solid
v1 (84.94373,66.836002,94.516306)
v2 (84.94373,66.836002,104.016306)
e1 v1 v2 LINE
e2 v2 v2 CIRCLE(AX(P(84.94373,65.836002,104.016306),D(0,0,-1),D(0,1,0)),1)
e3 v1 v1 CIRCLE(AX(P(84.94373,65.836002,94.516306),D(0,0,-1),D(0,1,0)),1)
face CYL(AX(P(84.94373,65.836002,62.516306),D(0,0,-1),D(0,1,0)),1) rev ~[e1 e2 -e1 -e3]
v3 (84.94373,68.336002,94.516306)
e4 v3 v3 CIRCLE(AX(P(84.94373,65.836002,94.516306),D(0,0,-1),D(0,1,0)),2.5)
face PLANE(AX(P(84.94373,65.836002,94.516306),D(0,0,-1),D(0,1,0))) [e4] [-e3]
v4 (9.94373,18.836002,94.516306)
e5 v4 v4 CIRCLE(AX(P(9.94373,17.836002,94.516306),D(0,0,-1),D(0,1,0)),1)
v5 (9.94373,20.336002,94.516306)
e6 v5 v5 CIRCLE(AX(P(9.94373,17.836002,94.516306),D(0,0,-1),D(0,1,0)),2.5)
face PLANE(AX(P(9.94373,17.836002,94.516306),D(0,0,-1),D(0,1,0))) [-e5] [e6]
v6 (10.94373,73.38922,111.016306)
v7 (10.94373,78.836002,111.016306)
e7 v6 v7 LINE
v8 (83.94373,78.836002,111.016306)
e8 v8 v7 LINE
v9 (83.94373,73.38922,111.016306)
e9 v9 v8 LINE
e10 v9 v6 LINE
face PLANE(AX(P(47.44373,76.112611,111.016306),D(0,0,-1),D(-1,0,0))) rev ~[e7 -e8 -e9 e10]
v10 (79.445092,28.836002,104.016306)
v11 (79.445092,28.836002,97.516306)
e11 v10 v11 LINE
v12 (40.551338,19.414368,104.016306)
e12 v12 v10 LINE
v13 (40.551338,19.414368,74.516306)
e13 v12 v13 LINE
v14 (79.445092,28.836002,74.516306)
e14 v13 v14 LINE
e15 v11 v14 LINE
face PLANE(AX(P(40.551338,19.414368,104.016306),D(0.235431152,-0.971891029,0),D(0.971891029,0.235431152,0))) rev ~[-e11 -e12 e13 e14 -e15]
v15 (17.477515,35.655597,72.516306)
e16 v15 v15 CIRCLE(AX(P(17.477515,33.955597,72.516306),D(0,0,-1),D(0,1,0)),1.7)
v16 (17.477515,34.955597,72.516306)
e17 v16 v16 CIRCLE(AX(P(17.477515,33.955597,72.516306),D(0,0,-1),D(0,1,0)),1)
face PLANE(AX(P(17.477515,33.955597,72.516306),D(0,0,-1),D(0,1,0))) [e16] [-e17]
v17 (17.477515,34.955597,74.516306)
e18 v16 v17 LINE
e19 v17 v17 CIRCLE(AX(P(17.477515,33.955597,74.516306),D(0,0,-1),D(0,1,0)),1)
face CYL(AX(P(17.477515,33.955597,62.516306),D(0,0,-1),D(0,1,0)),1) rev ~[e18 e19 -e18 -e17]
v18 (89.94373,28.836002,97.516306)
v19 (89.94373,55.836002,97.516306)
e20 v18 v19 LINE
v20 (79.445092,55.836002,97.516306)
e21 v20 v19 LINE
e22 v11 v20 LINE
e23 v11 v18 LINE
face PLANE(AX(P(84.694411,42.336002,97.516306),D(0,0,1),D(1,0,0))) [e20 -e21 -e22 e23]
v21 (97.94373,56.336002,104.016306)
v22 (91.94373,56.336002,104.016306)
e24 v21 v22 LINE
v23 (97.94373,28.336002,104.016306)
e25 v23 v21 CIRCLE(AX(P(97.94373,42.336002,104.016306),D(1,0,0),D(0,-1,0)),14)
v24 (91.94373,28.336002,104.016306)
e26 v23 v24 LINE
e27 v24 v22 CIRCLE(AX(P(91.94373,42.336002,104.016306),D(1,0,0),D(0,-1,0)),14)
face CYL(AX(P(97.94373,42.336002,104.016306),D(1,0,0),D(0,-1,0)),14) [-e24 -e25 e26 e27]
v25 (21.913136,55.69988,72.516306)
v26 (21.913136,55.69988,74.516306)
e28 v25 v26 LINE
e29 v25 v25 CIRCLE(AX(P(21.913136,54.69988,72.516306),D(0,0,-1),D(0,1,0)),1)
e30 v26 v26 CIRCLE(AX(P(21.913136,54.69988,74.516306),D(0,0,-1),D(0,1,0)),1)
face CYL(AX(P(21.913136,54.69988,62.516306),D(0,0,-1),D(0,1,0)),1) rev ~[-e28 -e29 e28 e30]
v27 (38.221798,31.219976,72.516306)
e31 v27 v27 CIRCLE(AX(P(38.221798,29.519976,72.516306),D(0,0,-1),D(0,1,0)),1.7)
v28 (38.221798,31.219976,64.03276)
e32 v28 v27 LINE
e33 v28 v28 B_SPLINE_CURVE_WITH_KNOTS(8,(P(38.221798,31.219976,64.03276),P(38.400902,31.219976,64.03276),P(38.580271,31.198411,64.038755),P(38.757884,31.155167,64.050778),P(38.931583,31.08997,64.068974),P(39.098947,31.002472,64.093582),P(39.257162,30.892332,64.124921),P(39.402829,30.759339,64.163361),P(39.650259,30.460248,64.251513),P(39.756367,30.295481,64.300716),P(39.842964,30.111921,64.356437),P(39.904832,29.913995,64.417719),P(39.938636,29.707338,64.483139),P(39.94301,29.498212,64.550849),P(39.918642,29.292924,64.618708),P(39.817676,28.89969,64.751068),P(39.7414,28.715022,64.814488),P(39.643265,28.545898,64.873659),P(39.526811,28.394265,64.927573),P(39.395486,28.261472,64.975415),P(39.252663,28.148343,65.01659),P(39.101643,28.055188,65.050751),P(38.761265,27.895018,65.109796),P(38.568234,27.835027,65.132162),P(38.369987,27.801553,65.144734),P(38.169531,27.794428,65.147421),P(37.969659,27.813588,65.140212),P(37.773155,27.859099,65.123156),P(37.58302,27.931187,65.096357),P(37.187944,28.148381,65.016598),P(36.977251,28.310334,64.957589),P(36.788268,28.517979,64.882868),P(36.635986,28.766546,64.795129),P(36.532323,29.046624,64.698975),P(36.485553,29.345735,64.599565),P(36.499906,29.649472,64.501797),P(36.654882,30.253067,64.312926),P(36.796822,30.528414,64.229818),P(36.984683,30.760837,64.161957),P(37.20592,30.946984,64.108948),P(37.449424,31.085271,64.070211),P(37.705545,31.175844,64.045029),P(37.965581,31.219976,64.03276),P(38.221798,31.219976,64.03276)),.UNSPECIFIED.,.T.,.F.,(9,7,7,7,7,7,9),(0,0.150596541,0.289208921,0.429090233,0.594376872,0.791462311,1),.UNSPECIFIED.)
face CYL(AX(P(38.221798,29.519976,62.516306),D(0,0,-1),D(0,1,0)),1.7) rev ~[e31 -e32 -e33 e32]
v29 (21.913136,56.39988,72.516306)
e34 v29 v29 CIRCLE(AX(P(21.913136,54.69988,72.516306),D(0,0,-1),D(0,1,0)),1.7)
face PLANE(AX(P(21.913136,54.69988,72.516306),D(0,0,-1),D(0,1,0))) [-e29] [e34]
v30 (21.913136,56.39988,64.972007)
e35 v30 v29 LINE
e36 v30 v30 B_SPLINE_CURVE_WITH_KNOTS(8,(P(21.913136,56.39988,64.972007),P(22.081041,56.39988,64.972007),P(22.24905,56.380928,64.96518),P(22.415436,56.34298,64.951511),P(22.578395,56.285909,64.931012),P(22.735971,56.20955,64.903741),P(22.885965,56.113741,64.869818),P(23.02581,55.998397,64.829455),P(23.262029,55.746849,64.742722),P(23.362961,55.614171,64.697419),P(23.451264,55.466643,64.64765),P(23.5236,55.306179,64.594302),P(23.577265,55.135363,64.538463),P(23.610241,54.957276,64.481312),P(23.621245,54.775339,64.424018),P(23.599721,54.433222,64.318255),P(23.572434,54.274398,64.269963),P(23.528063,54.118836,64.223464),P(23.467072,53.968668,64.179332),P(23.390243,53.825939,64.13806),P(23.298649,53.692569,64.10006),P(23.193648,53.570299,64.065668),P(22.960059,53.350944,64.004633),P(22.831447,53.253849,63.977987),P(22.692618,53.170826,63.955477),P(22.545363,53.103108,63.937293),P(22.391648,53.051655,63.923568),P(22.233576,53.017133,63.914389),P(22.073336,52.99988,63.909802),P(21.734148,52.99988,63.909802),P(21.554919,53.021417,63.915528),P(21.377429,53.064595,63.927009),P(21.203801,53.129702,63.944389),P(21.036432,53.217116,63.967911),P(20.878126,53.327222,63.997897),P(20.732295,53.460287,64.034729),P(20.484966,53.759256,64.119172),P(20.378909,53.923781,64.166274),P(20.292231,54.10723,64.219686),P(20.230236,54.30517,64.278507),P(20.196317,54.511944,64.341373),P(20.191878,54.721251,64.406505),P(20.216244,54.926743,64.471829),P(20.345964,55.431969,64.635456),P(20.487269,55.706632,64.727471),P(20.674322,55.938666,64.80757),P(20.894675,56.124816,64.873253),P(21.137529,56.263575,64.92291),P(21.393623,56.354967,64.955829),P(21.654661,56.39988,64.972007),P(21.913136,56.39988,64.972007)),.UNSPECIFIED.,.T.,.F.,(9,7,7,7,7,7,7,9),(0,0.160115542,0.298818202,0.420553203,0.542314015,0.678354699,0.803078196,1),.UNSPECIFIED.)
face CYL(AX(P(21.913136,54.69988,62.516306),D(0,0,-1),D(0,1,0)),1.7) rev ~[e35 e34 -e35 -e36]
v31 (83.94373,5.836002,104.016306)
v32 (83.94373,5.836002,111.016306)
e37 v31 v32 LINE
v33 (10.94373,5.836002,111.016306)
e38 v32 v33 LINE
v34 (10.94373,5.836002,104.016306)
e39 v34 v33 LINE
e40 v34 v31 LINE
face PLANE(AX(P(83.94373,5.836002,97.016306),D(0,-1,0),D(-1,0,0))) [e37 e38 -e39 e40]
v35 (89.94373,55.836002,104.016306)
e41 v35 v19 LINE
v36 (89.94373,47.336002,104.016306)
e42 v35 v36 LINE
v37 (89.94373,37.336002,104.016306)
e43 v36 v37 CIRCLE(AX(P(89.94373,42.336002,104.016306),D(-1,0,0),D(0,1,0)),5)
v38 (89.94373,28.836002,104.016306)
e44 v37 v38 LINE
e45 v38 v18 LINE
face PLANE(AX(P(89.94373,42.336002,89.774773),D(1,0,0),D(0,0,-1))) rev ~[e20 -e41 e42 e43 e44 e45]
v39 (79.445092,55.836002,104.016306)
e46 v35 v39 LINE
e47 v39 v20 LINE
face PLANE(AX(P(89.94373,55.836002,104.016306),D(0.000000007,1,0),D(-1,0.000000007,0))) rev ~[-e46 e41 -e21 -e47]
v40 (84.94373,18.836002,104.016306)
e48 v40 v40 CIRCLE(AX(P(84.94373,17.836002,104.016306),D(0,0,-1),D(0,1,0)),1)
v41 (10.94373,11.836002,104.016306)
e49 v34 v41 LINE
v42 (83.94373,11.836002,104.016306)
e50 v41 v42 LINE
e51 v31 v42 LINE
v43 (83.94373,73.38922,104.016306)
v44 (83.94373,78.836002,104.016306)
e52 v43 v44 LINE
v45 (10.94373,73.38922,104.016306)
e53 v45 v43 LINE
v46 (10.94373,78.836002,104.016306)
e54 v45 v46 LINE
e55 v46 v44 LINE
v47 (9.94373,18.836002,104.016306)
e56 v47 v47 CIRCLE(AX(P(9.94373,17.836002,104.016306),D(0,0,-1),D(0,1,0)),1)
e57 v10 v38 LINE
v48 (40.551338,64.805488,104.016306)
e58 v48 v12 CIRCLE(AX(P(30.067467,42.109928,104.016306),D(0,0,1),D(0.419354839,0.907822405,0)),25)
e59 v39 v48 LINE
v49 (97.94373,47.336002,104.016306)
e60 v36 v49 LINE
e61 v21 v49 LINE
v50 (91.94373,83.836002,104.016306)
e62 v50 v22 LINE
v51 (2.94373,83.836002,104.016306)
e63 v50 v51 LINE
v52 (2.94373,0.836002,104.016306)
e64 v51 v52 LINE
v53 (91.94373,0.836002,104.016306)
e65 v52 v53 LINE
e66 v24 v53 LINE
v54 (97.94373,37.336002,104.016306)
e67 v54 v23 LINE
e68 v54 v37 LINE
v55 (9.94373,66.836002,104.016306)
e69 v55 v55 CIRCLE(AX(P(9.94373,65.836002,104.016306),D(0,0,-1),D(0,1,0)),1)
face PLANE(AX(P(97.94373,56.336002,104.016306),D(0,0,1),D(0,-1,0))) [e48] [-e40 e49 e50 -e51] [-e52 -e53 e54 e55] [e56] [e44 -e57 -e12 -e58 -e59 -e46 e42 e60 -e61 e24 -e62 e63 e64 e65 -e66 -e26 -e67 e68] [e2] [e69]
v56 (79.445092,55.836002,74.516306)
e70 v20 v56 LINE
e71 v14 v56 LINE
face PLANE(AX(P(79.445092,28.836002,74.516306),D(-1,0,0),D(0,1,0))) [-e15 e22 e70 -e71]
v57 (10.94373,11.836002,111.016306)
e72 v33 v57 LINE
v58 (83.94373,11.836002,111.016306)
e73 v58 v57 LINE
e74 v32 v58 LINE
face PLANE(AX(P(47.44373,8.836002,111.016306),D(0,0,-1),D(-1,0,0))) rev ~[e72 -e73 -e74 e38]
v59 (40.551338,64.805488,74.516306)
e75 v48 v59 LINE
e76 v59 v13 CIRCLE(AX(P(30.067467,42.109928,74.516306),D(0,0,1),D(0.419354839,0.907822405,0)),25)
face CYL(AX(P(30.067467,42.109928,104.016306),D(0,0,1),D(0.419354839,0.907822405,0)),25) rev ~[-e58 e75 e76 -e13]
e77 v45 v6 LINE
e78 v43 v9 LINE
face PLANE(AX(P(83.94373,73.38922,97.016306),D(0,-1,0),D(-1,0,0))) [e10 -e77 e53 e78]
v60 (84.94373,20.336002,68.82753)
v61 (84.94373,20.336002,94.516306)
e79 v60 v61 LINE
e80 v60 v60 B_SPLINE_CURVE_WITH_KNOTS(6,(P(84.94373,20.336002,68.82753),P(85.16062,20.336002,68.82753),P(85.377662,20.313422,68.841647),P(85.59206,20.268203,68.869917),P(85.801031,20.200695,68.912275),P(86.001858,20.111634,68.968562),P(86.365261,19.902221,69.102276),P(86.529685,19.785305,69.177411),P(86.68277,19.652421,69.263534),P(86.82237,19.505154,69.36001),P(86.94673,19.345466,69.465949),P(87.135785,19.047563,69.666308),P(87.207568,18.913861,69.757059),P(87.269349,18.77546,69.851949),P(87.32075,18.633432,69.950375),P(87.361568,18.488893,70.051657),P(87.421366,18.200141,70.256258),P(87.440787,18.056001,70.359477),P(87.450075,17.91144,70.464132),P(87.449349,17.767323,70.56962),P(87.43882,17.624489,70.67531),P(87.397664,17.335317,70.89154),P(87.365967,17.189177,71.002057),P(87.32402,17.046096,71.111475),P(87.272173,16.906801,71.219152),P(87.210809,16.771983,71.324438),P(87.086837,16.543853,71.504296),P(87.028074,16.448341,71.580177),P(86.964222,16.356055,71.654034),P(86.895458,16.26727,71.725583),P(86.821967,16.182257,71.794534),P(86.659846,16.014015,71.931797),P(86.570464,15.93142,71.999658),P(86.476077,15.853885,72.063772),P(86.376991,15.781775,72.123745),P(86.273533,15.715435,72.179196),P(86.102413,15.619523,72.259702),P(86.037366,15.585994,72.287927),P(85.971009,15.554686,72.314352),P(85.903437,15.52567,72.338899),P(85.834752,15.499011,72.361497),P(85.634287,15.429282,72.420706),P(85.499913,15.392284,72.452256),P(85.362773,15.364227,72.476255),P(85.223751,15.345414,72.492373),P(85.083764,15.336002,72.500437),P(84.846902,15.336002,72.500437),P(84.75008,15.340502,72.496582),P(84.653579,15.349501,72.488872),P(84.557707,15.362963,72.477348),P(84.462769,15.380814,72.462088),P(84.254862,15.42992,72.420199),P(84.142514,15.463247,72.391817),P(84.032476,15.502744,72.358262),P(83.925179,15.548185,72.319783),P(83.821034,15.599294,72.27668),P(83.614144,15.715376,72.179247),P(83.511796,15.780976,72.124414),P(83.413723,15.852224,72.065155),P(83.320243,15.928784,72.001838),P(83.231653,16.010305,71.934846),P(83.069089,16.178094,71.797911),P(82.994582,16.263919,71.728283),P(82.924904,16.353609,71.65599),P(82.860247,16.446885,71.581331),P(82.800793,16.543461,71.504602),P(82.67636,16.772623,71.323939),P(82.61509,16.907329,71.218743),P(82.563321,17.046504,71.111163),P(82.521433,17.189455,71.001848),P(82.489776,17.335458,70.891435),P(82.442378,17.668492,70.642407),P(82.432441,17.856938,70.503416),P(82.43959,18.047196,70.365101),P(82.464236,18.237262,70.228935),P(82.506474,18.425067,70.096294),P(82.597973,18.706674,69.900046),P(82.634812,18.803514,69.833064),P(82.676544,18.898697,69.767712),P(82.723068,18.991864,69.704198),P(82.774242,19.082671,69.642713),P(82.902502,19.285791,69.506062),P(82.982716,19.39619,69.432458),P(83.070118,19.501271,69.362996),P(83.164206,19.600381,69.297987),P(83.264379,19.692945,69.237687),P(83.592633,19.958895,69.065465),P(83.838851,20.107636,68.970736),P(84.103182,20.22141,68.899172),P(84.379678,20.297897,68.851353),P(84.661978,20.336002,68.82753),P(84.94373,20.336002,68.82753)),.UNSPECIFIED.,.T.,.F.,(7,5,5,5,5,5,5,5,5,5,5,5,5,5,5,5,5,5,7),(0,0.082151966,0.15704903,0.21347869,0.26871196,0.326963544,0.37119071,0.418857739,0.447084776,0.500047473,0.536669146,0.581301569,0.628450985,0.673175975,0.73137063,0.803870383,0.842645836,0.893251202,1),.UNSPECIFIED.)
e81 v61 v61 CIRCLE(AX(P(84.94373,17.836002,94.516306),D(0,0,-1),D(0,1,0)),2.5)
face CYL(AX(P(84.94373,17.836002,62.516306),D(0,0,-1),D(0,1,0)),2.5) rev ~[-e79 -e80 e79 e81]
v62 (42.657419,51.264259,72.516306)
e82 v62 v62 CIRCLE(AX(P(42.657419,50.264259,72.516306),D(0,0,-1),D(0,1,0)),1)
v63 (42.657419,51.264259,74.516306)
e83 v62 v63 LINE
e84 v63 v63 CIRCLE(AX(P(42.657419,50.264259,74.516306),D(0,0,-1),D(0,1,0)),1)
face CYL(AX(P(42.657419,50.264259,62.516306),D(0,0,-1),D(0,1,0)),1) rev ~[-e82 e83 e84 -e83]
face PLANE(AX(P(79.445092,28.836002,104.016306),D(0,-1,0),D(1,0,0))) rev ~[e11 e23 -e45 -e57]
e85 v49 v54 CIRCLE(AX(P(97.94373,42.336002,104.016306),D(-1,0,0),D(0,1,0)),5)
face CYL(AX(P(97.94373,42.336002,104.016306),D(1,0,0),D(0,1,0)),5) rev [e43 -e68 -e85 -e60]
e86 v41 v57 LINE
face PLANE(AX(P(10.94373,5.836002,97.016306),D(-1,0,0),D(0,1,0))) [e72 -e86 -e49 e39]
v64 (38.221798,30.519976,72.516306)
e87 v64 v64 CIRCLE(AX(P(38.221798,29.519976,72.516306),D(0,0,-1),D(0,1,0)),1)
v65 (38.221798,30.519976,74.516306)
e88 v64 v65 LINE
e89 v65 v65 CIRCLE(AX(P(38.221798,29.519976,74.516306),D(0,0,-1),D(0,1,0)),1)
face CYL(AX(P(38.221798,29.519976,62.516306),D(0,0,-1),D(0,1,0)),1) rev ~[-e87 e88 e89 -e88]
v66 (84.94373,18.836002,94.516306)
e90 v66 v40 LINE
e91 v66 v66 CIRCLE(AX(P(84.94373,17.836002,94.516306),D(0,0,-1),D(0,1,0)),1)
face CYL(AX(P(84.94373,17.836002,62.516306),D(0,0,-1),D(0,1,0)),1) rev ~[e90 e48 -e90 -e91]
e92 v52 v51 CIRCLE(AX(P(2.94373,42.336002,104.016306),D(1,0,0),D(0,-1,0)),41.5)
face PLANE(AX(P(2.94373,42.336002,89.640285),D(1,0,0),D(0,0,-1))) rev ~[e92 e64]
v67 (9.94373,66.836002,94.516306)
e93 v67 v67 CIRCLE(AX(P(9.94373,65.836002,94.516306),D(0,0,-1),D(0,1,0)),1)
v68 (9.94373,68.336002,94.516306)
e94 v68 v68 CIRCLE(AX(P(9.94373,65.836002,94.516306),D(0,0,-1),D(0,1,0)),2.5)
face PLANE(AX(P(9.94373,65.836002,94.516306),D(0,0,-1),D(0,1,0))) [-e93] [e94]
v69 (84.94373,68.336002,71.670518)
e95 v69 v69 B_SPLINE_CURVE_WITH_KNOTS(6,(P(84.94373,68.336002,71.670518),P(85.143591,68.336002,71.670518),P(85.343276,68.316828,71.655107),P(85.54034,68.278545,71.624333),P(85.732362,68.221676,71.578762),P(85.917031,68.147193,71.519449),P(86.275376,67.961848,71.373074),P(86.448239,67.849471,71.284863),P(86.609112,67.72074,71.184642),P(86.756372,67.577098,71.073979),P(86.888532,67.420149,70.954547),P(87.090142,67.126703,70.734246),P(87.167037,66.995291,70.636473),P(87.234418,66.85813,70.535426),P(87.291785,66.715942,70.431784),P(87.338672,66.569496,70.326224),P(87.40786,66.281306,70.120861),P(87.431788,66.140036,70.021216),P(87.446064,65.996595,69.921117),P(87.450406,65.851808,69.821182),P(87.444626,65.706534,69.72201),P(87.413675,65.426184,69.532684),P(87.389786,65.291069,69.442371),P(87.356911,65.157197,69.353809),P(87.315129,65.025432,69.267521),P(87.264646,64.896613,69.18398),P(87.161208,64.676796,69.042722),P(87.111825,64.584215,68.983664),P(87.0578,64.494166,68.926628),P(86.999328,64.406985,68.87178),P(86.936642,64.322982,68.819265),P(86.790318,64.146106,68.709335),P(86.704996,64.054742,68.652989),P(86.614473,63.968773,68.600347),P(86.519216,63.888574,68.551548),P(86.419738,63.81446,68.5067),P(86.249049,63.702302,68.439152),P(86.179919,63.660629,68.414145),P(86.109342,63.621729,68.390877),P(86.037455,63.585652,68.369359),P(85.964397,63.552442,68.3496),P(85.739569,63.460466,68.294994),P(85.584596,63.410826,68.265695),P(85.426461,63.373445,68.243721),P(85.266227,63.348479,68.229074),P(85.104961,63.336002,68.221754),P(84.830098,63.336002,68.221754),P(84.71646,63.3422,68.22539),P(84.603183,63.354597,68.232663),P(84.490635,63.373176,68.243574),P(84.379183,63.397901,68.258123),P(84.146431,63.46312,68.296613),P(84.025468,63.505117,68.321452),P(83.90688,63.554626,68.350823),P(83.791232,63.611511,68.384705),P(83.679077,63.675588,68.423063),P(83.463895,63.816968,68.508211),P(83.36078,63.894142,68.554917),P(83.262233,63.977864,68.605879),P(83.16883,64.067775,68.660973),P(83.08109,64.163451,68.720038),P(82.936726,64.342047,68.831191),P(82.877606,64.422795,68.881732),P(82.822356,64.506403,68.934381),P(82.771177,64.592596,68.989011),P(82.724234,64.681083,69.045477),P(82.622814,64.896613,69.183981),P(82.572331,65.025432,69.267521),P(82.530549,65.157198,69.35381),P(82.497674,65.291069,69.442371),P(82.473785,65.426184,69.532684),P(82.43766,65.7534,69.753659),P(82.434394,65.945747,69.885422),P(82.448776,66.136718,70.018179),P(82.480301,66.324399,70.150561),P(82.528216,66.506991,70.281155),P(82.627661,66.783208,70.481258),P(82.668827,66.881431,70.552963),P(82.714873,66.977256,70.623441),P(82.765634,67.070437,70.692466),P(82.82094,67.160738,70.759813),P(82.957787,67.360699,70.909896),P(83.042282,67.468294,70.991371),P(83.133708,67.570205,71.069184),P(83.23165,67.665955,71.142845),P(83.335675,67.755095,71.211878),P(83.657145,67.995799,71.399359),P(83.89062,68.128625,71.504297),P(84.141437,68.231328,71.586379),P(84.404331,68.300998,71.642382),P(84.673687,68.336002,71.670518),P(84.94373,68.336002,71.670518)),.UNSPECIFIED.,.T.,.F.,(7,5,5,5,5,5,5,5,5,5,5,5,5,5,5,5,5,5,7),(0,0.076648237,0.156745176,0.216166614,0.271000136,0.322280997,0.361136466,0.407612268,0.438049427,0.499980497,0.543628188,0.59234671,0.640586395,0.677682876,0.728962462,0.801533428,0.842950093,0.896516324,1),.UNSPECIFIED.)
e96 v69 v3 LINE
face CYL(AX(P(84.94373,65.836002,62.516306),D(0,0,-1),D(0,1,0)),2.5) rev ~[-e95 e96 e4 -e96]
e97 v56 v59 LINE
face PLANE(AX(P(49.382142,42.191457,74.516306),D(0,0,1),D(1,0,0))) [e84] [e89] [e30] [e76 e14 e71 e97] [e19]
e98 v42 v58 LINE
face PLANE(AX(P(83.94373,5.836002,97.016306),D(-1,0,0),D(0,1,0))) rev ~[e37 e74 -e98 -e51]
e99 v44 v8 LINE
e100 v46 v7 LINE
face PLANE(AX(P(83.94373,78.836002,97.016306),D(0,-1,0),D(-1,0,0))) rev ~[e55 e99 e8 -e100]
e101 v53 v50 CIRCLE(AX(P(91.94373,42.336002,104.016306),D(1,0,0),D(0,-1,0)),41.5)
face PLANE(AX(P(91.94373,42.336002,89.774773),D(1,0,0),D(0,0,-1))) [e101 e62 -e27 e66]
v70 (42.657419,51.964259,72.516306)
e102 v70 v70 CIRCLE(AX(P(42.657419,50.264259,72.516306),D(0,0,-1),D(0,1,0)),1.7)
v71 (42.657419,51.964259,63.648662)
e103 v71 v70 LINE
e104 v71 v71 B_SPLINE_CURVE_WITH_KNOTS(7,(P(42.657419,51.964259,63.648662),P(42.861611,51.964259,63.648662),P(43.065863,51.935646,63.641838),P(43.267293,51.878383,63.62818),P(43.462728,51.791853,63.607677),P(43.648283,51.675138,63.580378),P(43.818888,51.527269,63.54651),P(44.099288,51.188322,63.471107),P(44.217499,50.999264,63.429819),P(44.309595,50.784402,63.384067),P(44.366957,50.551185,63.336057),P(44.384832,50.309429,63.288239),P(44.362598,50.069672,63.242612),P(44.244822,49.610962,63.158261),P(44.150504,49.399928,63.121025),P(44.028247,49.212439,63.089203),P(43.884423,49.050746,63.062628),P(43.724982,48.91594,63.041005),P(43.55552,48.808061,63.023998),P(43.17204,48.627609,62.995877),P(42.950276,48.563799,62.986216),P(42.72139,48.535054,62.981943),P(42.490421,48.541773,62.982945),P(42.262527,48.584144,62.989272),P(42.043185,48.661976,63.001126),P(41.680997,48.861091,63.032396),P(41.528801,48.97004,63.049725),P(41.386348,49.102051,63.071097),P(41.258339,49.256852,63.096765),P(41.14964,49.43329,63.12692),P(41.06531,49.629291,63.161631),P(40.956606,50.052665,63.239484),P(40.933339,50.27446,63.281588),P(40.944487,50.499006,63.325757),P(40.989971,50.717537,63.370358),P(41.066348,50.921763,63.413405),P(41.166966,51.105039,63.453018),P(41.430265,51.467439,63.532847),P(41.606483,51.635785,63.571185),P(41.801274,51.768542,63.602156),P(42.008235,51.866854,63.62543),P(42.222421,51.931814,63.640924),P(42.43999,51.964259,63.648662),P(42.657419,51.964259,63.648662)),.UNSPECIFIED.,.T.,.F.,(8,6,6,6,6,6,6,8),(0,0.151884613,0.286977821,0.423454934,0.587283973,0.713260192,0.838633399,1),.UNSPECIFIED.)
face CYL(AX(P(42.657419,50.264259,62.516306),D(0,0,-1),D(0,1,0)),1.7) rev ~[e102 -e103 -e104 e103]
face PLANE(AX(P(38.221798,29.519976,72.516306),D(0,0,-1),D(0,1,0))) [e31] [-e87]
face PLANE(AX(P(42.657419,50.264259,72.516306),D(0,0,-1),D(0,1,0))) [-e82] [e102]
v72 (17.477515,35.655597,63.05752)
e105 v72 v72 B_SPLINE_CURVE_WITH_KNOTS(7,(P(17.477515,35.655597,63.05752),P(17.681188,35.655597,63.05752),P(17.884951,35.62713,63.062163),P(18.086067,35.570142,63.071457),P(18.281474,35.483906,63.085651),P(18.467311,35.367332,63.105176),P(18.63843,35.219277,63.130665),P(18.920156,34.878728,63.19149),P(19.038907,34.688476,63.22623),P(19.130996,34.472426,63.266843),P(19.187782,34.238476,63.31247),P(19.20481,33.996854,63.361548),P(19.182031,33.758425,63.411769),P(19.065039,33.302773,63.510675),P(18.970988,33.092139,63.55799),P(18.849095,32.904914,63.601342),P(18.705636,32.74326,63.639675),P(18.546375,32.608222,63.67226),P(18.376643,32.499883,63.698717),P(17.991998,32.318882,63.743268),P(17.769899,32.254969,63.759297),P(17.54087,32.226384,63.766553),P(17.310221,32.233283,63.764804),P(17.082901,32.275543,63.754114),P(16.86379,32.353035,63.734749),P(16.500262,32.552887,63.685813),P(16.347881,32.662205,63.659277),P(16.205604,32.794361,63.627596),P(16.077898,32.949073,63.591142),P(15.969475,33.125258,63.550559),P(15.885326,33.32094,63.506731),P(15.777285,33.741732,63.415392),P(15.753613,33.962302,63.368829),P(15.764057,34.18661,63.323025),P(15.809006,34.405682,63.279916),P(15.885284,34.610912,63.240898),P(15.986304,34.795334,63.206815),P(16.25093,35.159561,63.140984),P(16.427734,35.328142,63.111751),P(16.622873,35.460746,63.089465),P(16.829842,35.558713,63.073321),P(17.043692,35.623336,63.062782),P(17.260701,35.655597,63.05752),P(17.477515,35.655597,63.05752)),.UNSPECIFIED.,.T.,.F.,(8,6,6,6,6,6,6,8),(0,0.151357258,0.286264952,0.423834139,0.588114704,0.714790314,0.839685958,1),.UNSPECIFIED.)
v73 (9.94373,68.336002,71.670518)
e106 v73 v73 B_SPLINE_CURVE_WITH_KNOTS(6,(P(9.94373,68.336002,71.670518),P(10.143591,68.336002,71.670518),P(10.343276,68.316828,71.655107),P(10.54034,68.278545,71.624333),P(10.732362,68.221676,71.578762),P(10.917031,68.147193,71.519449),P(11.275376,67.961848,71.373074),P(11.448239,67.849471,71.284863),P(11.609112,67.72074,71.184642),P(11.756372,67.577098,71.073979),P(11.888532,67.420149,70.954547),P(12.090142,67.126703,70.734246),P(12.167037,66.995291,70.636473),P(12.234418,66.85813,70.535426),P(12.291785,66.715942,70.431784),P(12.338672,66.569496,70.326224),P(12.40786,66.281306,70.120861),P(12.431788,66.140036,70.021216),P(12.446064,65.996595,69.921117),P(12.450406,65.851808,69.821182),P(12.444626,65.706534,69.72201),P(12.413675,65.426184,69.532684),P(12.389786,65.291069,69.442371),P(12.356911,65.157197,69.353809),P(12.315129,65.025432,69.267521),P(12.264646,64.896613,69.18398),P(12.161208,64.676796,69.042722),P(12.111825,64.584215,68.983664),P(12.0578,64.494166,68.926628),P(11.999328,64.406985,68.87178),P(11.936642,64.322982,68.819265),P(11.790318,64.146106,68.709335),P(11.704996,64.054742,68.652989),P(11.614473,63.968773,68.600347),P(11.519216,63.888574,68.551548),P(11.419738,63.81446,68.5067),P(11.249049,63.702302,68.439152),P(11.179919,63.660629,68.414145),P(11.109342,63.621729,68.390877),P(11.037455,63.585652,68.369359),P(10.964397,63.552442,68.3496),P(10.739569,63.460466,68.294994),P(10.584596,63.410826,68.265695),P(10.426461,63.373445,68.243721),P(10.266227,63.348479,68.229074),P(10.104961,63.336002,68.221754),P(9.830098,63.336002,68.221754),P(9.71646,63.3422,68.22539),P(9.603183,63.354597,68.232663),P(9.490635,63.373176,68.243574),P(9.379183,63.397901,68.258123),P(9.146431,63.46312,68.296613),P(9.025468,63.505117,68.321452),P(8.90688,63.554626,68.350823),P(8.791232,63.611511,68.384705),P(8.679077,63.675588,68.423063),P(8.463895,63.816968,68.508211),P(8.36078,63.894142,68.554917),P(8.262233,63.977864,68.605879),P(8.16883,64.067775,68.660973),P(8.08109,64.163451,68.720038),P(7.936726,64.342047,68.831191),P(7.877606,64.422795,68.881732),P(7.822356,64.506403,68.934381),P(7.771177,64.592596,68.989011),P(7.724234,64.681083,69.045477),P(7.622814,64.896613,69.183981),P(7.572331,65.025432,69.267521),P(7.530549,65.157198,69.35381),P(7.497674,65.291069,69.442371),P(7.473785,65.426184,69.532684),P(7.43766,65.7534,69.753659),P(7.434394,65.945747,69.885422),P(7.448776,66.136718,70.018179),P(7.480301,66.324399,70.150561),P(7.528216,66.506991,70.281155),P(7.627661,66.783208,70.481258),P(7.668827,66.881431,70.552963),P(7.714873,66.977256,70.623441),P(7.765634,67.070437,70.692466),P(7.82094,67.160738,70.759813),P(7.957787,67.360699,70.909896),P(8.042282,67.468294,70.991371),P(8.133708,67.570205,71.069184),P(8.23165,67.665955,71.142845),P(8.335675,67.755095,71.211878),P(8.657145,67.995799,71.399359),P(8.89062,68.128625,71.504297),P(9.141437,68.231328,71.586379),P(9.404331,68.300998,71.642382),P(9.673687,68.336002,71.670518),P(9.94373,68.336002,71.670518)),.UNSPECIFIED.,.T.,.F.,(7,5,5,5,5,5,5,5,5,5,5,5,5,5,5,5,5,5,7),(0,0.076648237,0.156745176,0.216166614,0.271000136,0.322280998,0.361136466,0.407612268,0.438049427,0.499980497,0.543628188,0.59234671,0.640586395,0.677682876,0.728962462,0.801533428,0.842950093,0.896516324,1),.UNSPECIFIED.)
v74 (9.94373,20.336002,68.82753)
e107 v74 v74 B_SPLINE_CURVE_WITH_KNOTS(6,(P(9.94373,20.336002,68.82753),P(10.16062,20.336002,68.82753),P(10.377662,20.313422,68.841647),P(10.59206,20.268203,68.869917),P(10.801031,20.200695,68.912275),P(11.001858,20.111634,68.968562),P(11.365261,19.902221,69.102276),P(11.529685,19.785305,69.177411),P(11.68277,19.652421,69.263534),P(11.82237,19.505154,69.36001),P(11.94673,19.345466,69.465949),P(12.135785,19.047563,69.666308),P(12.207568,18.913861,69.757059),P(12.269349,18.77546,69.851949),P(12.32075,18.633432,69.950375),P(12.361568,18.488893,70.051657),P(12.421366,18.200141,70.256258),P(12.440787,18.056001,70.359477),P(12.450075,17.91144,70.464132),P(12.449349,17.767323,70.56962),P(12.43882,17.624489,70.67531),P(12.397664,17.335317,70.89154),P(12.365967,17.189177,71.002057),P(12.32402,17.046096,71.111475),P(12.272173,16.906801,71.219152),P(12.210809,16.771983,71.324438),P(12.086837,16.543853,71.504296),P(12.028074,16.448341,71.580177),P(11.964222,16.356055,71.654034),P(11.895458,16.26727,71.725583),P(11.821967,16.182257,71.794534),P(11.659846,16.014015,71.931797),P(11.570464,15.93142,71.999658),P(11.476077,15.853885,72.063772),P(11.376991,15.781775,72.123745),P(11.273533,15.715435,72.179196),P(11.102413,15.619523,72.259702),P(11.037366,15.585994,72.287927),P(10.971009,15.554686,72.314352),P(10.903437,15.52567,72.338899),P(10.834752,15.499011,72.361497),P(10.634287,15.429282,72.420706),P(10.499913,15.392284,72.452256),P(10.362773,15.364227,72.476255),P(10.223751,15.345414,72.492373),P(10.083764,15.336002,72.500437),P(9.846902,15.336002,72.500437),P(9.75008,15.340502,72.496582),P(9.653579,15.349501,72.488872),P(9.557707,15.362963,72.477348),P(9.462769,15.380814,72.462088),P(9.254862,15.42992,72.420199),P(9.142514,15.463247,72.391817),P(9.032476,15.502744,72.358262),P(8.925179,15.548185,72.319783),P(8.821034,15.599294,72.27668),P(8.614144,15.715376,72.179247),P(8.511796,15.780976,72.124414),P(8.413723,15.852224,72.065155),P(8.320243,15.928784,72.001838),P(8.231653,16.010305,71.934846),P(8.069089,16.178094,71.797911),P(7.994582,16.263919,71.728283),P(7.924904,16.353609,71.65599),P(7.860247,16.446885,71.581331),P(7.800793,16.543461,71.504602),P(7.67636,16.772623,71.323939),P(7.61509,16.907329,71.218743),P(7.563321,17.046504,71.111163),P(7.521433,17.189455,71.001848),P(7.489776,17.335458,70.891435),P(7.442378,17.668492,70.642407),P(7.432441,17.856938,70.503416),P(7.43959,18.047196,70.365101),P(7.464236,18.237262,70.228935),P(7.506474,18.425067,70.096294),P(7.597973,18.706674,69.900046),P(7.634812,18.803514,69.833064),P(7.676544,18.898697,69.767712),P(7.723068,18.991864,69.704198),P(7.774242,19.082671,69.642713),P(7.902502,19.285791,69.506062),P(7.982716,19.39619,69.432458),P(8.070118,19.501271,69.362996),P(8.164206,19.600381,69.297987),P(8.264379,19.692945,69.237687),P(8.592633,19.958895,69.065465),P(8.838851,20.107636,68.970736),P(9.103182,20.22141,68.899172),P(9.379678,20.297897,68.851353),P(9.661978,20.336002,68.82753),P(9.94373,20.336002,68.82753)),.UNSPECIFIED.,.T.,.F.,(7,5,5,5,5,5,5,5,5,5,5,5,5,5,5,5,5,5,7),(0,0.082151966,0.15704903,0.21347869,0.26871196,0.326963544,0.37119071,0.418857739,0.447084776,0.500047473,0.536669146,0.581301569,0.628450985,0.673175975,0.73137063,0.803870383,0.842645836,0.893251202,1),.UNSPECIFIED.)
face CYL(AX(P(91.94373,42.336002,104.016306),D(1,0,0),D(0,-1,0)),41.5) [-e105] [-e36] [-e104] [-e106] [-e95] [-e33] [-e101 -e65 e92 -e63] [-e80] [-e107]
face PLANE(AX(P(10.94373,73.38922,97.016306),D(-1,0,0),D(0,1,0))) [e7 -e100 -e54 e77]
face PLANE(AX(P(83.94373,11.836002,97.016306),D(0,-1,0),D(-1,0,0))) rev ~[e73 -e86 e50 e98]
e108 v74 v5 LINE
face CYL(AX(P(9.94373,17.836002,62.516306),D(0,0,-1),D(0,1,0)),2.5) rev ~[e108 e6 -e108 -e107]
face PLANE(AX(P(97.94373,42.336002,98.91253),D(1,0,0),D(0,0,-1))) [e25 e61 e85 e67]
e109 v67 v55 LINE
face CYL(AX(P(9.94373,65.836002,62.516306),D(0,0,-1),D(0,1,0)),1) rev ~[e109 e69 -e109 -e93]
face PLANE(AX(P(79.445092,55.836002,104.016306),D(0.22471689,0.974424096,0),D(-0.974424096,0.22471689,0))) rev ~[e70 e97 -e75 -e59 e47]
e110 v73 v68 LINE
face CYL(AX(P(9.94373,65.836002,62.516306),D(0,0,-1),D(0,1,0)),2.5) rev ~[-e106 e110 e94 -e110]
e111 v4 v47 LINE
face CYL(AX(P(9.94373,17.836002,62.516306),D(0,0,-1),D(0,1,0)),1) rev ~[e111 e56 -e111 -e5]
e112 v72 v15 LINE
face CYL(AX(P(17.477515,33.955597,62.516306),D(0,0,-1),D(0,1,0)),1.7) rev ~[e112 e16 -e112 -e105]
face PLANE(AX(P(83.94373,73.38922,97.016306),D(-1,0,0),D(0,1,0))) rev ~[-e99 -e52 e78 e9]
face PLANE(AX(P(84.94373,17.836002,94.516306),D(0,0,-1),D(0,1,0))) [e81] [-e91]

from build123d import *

# Parameters (mm, degrees)
BOSS_EXTRUDE2_DEPTH = 87
CUT_EXTRUDE1_DEPTH  = 29.5
SKETCH3_R           = 1
CUT_EXTRUDE2_DEPTH  = 130.771336418
SKETCH4_R           = 1.7
CUT_EXTRUDE3_DEPTH  = 10
BOSS_EXTRUDE3_START = 2
BOSS_EXTRUDE3_DEPTH = 2
BOSS_EXTRUDE4_START = 6
BOSS_EXTRUDE4_DEPTH = 6
SKETCH7_W           = 73
SKETCH7_H           = 5.446782016
SKETCH7_H_2         = 6
CUT_EXTRUDE4_DEPTH  = 7
SKETCH8_R           = 1
CUT_EXTRUDE5_DEPTH  = 136.438914135
SKETCH9_R           = 2.5
CUT_EXTRUDE6_DEPTH  = 32
SKETCH11_W          = 10.498637593
SKETCH11_H          = 26.999999931
BOSS_EXTRUDE6_DEPTH = 23
SKETCH12_W          = 73
SKETCH12_H          = 6
SKETCH12_H_2        = 5.446782016
BOSS_EXTRUDE7_DEPTH = 14


with BuildPart() as part:
    # Sketch1 → Boss-Extrude2 (new body)
    with BuildSketch(Plane(origin=(89.94373008, 0, 0), x_dir=(0, 0, -1), z_dir=(1, 0, 0))):
        with BuildLine():
            Line((-104.016306216, 83.836001664), (-104.016306216, 0.836001664))
            ThreePointArc((-104.016306216, 0.836001664), (-62.516306216, 42.336001664), (-104.016306216, 83.836001664))
        make_face()
    extrude(amount=-BOSS_EXTRUDE2_DEPTH)

    # Sketch2 → Cut-Extrude1 (cut)
    with BuildSketch(Plane.XY.offset(104.016306216)):
        with BuildLine():
            Line((89.94373008, 55.836001595), (79.445092487, 55.836001664))
            Line((79.445092487, 55.836001664), (40.551337791, 64.805487997))
            ThreePointArc((40.551337791, 64.805487997), (5.067466824, 42.109927869), (40.551337791, 19.414367741))
            Line((40.551337791, 19.414367741), (79.445092487, 28.836001664))
            Line((79.445092487, 28.836001664), (89.94373008, 28.836001664))
            Line((89.94373008, 28.836001664), (89.94373008, 55.836001595))
        make_face()
    extrude(amount=-CUT_EXTRUDE1_DEPTH, mode=Mode.SUBTRACT)

    # Sketch3 → Cut-Extrude2 (cut, through all)
    with BuildSketch(Plane(origin=(0, 0, 62.516306216), x_dir=(-1, 0, 0), z_dir=(0, 0, -1))):
        with Locations(Location((-42.657418818, 50.264258545, 0), (0, 0, 90))):
            Circle(SKETCH3_R)
        with Locations(Location((-21.913136148, 54.699879864, 0), (0, 0, 90))):
            Circle(SKETCH3_R)
        with Locations(Location((-38.2217975, 29.519975875, 0), (0, 0, 90))):
            Circle(SKETCH3_R)
        with Locations(Location((-17.477514829, 33.955597193, 0), (0, 0, 90))):
            Circle(SKETCH3_R)
    extrude(amount=-CUT_EXTRUDE2_DEPTH, mode=Mode.SUBTRACT)

    # Sketch4 → Cut-Extrude3 (cut)
    with BuildSketch(Plane(origin=(0, 0, 62.516306216), x_dir=(-1, 0, 0), z_dir=(0, 0, -1))):
        with Locations(Location((-42.657418818, 50.264258545, 0), (0, 0, 90))):
            Circle(SKETCH4_R)
        with Locations(Location((-21.913136148, 54.699879864, 0), (0, 0, 90))):
            Circle(SKETCH4_R)
        with Locations(Location((-38.2217975, 29.519975875, 0), (0, 0, 90))):
            Circle(SKETCH4_R)
        with Locations(Location((-17.477514829, 33.955597193, 0), (0, 0, 90))):
            Circle(SKETCH4_R)
    extrude(amount=-CUT_EXTRUDE3_DEPTH, mode=Mode.SUBTRACT)

    # Sketch5 → Boss-Extrude3 (add)
    with BuildSketch(Plane(origin=(89.94373008, 0, 0), x_dir=(0, 0, -1), z_dir=(1, 0, 0)).offset(BOSS_EXTRUDE3_START)):
        with BuildLine():
            Line((-104.016306216, 55.836001595), (-104.016306216, 47.336001664))
            ThreePointArc((-104.016306216, 47.336001664), (-99.016306216, 42.336001664), (-104.016306216, 37.336001664))
            Line((-104.016306216, 37.336001664), (-104.016306216, 28.836001664))
            Line((-104.016306216, 28.836001664), (-104.016306216, 0.836001664))
            ThreePointArc((-104.016306216, 0.836001664), (-62.516306216, 42.336001664), (-104.016306216, 83.836001664))
            Line((-104.016306216, 83.836001664), (-104.016306216, 55.836001595))
        make_face()
    extrude(amount=-BOSS_EXTRUDE3_DEPTH)

    # Sketch6 → Boss-Extrude4 (add)
    with BuildSketch(Plane(origin=(91.94373008, 0, 0), x_dir=(0, 0, -1), z_dir=(1, 0, 0)).offset(BOSS_EXTRUDE4_START)):
        with BuildLine():
            Line((-104.016306216, 56.336001664), (-104.016306216, 47.336001664))
            ThreePointArc((-104.016306216, 47.336001664), (-99.016306216, 42.336001664), (-104.016306216, 37.336001664))
            Line((-104.016306216, 37.336001664), (-104.016306216, 28.336001664))
            ThreePointArc((-104.016306216, 28.336001664), (-90.016306216, 42.336001664), (-104.016306216, 56.336001664))
        make_face()
    extrude(amount=-BOSS_EXTRUDE4_DEPTH)

    # Sketch7 → Cut-Extrude4 (cut)
    with BuildSketch(Plane.XY.offset(104.016306216)):
        with Locations((47.44373008, 76.112610656)):
            Rectangle(SKETCH7_W, SKETCH7_H)
        with Locations((47.44373008, 8.836001664)):
            Rectangle(SKETCH7_W, SKETCH7_H_2)
    extrude(amount=-CUT_EXTRUDE4_DEPTH, mode=Mode.SUBTRACT)

    # Sketch8 → Cut-Extrude5 (cut, through all)
    with BuildSketch(Plane(origin=(0, 0, 62.516306216), x_dir=(-1, 0, 0), z_dir=(0, 0, -1))):
        with Locations(Location((-84.94373008, 65.836001664, 0), (0, 0, 90))):
            Circle(SKETCH8_R)
        with Locations(Location((-84.94373008, 17.836001664, 0), (0, 0, 90))):
            Circle(SKETCH8_R)
        with Locations(Location((-9.94373008, 65.836001664, 0), (0, 0, 90))):
            Circle(SKETCH8_R)
        with Locations(Location((-9.94373008, 17.836001664, 0), (0, 0, 90))):
            Circle(SKETCH8_R)
    extrude(amount=-CUT_EXTRUDE5_DEPTH, mode=Mode.SUBTRACT)

    # Sketch9 → Cut-Extrude6 (cut)
    with BuildSketch(Plane(origin=(0, 0, 62.516306216), x_dir=(-1, 0, 0), z_dir=(0, 0, -1))):
        with Locations(Location((-84.94373008, 65.836001664, 0), (0, 0, 90))):
            Circle(SKETCH9_R)
        with Locations(Location((-84.94373008, 17.836001664, 0), (0, 0, 90))):
            Circle(SKETCH9_R)
        with Locations(Location((-9.94373008, 65.836001664, 0), (0, 0, 90))):
            Circle(SKETCH9_R)
        with Locations(Location((-9.94373008, 17.836001664, 0), (0, 0, 90))):
            Circle(SKETCH9_R)
    extrude(amount=-CUT_EXTRUDE6_DEPTH, mode=Mode.SUBTRACT)

    # Sketch11 → Boss-Extrude6 (add)
    with BuildSketch(Plane.XY.offset(74.516306216)):
        with Locations((84.694411284, 42.33600163)):
            Rectangle(SKETCH11_W, SKETCH11_H)
    extrude(amount=BOSS_EXTRUDE6_DEPTH)

    # Sketch12 → Boss-Extrude7 (add)
    with BuildSketch(Plane(origin=(0, 0, 97.016306216), x_dir=(-1, 0, 0), z_dir=(0, 0, -1))):
        with Locations((-47.44373008, 8.836001664)):
            Rectangle(SKETCH12_W, SKETCH12_H)
        with Locations((-47.44373008, 76.112610656)):
            Rectangle(SKETCH12_W, SKETCH12_H_2)
    extrude(amount=-BOSS_EXTRUDE7_DEPTH)


solid = part.part
